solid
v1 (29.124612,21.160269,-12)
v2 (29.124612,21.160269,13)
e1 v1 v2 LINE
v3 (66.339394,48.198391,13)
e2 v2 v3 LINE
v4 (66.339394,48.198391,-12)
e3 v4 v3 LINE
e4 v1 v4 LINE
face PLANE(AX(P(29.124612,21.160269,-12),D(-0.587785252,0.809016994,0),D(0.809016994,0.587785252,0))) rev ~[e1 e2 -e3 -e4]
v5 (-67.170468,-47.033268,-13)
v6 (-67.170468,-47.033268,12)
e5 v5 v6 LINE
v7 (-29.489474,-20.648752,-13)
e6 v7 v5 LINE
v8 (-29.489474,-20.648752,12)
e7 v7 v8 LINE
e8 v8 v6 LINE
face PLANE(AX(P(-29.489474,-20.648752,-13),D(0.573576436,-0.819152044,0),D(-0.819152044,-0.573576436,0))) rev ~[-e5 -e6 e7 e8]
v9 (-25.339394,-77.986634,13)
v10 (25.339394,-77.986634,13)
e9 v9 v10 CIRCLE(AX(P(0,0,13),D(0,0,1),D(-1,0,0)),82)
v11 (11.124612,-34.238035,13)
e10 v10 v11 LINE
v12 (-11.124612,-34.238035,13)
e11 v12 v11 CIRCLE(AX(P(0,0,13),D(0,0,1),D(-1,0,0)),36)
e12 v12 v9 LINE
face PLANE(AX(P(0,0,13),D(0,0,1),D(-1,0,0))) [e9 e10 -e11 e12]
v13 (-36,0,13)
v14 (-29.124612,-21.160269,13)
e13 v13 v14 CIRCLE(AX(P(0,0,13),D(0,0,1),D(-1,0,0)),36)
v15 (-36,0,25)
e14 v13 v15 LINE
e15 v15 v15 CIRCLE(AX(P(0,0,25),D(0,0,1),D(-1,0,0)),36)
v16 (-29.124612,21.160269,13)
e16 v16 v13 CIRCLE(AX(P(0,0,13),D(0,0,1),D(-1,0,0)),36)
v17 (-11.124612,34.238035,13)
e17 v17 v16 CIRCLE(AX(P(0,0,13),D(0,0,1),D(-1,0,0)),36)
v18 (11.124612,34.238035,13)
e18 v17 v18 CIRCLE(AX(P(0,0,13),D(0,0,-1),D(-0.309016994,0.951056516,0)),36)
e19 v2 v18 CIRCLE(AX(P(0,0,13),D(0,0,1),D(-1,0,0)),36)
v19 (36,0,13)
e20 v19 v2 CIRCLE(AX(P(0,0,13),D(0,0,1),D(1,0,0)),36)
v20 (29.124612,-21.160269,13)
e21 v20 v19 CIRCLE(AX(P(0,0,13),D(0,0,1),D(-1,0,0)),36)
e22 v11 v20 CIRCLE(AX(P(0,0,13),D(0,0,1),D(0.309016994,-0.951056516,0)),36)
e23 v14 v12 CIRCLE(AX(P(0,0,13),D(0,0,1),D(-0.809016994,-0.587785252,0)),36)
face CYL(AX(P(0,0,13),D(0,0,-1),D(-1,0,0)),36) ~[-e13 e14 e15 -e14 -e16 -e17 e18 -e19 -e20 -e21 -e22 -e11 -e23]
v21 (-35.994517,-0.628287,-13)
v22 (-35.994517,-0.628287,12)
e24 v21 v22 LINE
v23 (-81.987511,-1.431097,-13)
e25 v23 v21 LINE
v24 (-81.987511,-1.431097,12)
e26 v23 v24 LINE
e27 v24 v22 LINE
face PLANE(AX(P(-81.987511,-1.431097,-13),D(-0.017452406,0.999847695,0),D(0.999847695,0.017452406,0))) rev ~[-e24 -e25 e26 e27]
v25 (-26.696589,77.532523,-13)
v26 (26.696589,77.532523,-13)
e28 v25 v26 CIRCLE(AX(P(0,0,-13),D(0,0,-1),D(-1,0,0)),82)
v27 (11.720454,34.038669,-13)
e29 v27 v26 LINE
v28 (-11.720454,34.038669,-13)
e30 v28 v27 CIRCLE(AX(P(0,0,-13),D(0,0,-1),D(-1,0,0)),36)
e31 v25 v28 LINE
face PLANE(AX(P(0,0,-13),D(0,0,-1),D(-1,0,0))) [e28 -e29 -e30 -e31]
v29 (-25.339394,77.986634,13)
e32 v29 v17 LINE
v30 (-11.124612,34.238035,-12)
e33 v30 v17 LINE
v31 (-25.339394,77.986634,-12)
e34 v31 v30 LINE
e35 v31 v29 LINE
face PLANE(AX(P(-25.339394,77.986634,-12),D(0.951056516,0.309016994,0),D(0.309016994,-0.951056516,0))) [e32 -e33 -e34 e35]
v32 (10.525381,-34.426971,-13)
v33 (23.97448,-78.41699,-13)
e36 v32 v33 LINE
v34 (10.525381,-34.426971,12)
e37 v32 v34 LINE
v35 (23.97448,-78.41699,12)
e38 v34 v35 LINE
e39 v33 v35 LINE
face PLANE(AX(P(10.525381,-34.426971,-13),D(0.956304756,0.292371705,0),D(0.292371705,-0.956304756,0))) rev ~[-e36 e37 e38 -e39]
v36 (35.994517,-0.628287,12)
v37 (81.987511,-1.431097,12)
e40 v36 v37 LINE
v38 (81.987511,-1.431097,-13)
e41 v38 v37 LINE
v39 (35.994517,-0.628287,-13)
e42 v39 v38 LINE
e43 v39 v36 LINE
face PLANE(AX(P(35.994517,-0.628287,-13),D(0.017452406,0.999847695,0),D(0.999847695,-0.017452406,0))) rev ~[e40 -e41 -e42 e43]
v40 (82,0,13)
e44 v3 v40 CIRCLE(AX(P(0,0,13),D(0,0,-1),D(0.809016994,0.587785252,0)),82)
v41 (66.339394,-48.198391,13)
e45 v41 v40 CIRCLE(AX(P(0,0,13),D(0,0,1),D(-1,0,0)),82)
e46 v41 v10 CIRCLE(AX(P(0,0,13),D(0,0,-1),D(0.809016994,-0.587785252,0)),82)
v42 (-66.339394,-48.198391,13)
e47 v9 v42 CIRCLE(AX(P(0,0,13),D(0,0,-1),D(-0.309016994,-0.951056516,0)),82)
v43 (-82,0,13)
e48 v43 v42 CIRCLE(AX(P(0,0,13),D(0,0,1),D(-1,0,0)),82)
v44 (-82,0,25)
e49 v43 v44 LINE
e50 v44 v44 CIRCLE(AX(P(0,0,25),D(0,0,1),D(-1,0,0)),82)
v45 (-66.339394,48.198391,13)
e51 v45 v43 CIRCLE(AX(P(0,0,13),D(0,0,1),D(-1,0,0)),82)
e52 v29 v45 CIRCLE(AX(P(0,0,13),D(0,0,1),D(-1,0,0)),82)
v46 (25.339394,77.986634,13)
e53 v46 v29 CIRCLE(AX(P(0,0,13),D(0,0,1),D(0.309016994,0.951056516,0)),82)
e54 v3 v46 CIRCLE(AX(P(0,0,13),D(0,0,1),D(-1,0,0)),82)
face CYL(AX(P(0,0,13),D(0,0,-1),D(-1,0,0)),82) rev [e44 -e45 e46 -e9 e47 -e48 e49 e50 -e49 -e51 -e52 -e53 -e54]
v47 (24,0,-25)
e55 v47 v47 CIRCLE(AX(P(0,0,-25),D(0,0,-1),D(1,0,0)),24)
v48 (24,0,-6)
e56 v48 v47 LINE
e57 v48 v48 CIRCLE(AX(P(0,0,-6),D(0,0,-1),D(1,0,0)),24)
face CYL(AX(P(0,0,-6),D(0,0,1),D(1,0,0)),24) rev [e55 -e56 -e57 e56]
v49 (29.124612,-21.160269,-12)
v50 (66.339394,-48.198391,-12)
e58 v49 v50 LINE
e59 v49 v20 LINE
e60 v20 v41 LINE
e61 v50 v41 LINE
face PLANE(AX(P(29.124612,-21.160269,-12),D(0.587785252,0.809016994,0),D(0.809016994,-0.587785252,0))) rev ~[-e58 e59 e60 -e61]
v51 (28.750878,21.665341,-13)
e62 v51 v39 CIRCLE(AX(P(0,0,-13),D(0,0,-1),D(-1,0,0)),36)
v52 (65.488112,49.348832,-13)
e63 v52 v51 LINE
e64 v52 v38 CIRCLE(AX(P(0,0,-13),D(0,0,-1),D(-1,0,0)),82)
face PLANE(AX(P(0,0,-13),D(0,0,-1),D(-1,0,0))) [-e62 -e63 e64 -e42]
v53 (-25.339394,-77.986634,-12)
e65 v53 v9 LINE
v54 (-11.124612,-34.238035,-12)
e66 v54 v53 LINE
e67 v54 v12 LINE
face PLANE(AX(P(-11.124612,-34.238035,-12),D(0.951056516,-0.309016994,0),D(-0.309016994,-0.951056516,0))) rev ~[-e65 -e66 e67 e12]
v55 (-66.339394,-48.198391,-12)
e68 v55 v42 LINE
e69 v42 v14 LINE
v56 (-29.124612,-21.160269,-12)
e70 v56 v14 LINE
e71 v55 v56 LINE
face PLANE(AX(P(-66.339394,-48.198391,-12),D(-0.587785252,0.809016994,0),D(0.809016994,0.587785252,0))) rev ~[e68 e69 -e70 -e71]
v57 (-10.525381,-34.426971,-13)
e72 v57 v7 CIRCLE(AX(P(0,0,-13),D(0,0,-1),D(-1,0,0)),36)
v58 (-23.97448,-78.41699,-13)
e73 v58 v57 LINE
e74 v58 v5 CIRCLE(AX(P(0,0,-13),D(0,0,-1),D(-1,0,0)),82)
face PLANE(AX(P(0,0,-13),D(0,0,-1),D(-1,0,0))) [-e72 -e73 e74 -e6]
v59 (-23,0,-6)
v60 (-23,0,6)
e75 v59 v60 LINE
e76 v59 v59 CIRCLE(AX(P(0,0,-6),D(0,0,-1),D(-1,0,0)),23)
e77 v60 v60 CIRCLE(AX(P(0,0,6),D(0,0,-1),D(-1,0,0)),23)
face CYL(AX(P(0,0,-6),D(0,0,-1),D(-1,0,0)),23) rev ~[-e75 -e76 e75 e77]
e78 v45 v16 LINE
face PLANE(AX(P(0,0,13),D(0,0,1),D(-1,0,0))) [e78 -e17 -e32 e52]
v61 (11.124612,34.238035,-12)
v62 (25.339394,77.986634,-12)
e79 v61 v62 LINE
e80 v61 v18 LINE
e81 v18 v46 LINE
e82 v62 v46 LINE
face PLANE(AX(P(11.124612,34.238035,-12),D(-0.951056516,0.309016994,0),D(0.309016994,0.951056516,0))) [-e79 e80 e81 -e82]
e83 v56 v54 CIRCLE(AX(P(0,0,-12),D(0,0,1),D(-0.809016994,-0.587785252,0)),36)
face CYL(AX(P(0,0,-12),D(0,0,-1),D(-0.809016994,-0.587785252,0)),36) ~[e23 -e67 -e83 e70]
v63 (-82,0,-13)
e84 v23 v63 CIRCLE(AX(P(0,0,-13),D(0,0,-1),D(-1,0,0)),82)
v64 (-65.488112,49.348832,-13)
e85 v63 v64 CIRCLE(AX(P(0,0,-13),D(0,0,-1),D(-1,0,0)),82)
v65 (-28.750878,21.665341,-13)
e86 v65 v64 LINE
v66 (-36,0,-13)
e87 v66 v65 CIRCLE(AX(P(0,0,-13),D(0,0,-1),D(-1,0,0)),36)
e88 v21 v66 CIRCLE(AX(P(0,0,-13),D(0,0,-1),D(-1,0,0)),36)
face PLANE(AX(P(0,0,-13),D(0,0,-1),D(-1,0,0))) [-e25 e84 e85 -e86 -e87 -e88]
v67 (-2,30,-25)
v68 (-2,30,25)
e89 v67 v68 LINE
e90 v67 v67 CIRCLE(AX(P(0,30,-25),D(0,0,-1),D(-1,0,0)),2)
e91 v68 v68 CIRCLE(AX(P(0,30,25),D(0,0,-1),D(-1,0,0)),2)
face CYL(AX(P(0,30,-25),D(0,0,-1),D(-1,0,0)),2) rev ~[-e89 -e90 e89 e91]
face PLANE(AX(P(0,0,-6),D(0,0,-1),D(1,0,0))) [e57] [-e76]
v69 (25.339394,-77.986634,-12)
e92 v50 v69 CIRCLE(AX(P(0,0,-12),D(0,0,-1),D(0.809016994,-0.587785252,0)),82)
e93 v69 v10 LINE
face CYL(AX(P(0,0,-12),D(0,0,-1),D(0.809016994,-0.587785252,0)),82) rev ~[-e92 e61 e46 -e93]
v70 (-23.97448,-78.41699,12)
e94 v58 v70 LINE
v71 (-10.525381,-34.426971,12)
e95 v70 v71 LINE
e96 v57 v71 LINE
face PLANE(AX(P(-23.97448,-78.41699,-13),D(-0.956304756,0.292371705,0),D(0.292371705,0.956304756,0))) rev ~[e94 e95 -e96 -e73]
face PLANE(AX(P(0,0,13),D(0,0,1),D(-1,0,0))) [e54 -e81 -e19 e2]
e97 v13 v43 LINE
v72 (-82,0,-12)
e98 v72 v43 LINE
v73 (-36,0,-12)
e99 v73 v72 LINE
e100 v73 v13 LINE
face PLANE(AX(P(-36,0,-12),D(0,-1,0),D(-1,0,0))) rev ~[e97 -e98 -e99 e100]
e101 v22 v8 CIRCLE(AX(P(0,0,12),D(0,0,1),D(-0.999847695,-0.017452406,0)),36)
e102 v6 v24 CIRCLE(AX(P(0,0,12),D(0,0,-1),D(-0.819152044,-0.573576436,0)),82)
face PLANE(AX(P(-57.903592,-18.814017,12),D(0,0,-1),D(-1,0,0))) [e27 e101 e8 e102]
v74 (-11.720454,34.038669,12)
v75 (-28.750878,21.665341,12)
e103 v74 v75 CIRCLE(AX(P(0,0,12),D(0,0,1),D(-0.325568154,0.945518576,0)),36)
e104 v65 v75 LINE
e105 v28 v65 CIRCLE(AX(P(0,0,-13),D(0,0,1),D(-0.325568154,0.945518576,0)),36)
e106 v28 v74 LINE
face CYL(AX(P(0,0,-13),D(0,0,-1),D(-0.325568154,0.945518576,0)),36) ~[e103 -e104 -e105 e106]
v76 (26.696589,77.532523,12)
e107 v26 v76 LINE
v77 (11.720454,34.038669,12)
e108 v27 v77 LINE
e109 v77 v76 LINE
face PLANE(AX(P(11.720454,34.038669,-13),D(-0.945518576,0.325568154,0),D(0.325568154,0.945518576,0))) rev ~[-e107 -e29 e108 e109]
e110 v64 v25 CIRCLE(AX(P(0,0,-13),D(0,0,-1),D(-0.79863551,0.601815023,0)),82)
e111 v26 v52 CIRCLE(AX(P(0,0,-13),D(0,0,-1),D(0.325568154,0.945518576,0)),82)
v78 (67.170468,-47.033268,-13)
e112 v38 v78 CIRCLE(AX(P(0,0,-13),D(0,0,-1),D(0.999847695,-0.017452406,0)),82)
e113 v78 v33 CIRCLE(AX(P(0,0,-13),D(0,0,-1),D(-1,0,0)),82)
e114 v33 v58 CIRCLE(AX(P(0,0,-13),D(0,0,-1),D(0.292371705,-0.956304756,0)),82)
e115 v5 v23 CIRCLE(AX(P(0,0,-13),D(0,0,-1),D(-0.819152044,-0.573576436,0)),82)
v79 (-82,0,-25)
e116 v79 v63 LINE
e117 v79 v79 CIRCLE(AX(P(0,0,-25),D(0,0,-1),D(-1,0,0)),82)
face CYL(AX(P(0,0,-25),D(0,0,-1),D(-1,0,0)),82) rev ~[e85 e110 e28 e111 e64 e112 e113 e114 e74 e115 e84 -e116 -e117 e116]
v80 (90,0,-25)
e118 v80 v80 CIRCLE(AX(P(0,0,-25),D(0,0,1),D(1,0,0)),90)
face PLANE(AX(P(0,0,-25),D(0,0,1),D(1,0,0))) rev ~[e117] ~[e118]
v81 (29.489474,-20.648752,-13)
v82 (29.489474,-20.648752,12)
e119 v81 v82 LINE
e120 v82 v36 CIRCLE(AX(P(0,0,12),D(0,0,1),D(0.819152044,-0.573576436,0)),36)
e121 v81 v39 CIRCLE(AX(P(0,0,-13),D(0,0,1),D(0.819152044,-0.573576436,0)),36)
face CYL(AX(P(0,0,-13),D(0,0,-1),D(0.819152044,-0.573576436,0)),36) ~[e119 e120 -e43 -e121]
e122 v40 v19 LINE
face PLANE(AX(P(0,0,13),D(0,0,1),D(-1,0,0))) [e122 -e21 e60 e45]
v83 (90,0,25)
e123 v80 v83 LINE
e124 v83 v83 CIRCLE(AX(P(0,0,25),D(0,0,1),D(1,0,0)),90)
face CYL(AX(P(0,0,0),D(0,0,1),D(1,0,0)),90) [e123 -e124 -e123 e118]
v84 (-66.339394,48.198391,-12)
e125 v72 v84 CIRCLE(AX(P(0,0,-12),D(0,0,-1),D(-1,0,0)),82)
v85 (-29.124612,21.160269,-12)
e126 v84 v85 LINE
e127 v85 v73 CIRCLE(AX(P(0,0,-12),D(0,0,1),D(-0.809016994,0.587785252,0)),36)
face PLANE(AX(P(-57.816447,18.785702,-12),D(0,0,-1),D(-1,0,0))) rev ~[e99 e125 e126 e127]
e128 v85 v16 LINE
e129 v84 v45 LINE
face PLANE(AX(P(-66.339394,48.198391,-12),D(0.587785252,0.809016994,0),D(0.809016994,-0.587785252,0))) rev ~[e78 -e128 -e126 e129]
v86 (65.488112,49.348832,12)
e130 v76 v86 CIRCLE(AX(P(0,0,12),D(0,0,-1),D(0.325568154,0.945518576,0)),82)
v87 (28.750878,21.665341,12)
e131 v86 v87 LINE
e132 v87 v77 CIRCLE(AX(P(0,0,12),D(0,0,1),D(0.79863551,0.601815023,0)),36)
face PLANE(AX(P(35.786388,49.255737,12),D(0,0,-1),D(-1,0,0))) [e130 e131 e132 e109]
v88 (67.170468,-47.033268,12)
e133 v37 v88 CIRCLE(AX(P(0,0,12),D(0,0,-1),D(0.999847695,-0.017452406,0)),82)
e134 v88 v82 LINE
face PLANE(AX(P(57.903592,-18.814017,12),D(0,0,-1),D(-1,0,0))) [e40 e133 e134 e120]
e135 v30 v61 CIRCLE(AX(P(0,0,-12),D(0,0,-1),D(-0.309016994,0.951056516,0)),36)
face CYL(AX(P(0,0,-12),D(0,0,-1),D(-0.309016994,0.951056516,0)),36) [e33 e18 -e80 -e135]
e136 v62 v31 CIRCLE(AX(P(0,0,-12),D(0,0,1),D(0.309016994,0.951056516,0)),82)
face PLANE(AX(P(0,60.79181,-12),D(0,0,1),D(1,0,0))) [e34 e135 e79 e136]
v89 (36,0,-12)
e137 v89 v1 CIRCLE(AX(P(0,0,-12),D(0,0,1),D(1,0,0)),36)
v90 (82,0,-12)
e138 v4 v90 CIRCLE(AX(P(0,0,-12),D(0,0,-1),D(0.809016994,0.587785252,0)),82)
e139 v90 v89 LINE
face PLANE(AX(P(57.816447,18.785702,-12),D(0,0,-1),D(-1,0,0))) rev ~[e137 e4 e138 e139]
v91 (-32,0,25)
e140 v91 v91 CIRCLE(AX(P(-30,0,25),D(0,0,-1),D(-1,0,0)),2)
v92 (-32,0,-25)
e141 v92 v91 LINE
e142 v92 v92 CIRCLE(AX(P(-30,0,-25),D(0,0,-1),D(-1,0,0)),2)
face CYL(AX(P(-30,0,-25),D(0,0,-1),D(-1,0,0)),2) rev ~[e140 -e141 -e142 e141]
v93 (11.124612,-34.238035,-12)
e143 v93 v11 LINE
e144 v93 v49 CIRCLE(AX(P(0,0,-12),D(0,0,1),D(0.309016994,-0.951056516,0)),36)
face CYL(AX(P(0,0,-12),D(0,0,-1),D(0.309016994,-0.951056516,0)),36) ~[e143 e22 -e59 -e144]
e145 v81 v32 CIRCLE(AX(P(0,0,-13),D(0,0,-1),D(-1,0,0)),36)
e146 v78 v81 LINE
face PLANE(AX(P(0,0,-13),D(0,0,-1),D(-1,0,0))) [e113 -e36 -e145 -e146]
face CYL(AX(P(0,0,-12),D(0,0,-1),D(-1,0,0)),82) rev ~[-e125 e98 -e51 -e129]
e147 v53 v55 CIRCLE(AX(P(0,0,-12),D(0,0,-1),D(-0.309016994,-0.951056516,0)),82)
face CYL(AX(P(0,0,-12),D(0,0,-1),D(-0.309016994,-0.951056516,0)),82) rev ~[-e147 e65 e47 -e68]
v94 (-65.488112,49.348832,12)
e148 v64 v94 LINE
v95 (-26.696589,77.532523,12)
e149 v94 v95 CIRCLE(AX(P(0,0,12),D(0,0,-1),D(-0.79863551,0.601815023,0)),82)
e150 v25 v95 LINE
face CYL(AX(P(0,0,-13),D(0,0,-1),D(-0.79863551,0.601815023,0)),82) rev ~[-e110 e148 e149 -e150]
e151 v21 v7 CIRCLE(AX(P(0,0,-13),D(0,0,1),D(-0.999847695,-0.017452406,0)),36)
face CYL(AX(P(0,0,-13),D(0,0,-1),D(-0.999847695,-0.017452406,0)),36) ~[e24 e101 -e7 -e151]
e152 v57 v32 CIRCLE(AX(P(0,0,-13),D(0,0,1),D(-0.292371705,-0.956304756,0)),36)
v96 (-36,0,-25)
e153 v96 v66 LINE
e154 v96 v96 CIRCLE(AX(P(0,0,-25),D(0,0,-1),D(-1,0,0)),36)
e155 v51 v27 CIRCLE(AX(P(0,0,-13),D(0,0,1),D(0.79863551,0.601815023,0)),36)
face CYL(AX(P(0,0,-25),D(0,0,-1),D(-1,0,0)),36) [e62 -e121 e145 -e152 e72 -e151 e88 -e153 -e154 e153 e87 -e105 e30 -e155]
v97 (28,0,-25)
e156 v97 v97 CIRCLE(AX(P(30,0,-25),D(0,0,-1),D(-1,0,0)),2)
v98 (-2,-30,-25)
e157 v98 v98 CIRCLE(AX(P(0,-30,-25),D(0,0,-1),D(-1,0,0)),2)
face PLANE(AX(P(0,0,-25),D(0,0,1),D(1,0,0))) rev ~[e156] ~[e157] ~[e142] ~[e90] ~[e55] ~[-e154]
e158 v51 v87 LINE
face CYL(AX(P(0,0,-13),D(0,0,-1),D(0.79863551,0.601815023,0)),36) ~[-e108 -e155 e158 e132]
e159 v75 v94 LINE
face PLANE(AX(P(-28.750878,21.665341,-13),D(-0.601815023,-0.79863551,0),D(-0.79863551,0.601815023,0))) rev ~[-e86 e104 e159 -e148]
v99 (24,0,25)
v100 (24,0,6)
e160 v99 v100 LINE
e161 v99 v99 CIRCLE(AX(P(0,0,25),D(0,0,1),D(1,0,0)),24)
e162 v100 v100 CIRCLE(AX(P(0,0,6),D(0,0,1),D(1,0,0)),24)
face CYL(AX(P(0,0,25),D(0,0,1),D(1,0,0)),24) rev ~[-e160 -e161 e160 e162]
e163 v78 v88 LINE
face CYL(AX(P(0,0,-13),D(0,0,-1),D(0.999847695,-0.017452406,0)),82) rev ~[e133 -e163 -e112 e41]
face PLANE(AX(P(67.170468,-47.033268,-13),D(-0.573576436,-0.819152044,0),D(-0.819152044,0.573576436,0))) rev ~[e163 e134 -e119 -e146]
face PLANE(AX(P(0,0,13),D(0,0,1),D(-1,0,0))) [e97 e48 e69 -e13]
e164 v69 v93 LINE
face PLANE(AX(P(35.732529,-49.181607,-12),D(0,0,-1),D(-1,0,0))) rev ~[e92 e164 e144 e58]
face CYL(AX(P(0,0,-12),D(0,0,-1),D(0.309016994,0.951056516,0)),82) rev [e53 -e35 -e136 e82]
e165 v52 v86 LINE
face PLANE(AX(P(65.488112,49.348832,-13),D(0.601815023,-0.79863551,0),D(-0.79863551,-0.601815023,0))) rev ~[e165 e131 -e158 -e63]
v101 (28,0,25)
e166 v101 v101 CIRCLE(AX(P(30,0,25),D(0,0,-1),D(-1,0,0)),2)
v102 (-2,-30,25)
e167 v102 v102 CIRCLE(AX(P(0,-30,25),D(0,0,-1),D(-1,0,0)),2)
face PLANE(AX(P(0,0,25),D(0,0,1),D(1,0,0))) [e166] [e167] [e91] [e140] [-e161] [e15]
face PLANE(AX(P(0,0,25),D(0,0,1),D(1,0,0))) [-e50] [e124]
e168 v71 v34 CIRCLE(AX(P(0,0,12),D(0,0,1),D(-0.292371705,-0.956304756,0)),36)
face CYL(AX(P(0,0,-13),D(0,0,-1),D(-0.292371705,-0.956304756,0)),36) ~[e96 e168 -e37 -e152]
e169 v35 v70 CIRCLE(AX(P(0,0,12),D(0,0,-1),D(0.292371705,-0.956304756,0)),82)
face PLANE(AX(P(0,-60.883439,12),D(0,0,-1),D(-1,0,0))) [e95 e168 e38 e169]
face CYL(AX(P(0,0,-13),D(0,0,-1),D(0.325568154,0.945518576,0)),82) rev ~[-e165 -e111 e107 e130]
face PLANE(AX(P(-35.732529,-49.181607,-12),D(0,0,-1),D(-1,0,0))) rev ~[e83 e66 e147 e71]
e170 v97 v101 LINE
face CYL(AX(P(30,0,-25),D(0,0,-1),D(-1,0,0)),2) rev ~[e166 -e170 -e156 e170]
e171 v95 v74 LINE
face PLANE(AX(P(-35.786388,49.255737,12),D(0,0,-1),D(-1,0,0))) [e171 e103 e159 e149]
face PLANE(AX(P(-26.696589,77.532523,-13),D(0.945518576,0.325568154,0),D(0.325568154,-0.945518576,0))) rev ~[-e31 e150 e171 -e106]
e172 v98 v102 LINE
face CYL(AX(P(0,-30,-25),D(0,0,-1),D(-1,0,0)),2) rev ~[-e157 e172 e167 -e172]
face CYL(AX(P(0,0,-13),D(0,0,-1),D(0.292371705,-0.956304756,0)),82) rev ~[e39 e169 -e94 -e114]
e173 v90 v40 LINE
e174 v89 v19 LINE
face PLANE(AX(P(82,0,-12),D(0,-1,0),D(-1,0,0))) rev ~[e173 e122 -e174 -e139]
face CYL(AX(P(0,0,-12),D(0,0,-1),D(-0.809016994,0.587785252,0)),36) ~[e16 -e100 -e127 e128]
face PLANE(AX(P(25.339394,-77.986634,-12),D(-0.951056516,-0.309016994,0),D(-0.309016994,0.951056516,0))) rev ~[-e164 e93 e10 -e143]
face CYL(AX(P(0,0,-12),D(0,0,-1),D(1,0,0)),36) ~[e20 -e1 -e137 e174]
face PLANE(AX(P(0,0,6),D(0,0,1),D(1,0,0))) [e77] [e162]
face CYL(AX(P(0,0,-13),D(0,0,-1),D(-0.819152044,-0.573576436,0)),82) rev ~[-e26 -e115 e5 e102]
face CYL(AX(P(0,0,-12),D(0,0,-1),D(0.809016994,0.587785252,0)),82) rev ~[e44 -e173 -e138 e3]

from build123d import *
from build123d.topology import SkipClean

# Parameters (mm, degrees)
SKETCH1_R           = 90
BOSS_EXTRUDE1_DEPTH = 25
SKETCH3_R           = 24
CUT_EXTRUDE2_DEPTH  = 19
CUT_EXTRUDE3_START  = -19
SKETCH4_R           = 24
CUT_EXTRUDE3_DEPTH  = 19
SKETCH5_R           = 23
CUT_EXTRUDE4_DEPTH  = 12
SKETCH6_R           = 82
SKETCH6_R_2         = 36
CUT_EXTRUDE7_DEPTH  = 12
CUT_EXTRUDE8_START  = -12
SKETCH8_R           = 82
SKETCH8_R_2         = 36
CUT_EXTRUDE8_DEPTH  = 12
CUT_EXTRUDE10_START = -25
CUT_EXTRUDE10_DEPTH = 25
CUT_EXTRUDE11_DEPTH = 25
SKETCH13_R          = 2
CUT_EXTRUDE12_DEPTH = 137.747943312


with BuildPart() as part:
    # Sketch1 → Boss-Extrude1 (new, symmetric)
    with BuildSketch(Plane.XY):
        Circle(SKETCH1_R)
    extrude(amount=BOSS_EXTRUDE1_DEPTH, both=True)

    # Sketch3 → Cut-Extrude2 (cut)
    with BuildSketch(Plane.XY.offset(25)):
        Circle(SKETCH3_R)
    extrude(amount=-CUT_EXTRUDE2_DEPTH, mode=Mode.SUBTRACT)

    # Sketch4 → Cut-Extrude3 (cut)
    with BuildSketch(Plane(origin=(0, 0, -25), x_dir=(-1, 0, 0), z_dir=(0, 0, -1)).offset(CUT_EXTRUDE3_START)):
        with Locations(Location((0, 0, 0), (0, 0, 180))):
            Circle(SKETCH4_R)
    extrude(amount=CUT_EXTRUDE3_DEPTH, mode=Mode.SUBTRACT)

    # Sketch5 → Cut-Extrude4 (cut)
    with BuildSketch(Plane(origin=(0, 0, -6), x_dir=(-1, 0, 0), z_dir=(0, 0, -1))):
        Circle(SKETCH5_R)
    extrude(amount=-CUT_EXTRUDE4_DEPTH, mode=Mode.SUBTRACT)

    # Sketch6 → Cut-Extrude7 (cut)
    with BuildSketch(Plane(origin=(0, 0, -25), x_dir=(-1, 0, 0), z_dir=(0, 0, -1))):
        Circle(SKETCH6_R)
        Circle(SKETCH6_R_2, mode=Mode.SUBTRACT)
    extrude(amount=-CUT_EXTRUDE7_DEPTH, mode=Mode.SUBTRACT)

    # Sketch8 → Cut-Extrude8 (cut)
    with BuildSketch(Plane.XY.offset(25).offset(CUT_EXTRUDE8_START)):
        with Locations(Location((0, 0, 0), (0, 0, 180))):
            Circle(SKETCH8_R)
        with Locations(Location((0, 0, 0), (0, 0, 180))):
            Circle(SKETCH8_R_2, mode=Mode.SUBTRACT)
    extrude(amount=CUT_EXTRUDE8_DEPTH, mode=Mode.SUBTRACT)

    # Sketch11 → Cut-Extrude10 (cut)
    with SkipClean():  # the faces are left unmerged after this step: merging them gives an invalid solid
        with BuildSketch(Plane.XY.offset(13).offset(CUT_EXTRUDE10_START)):
            with BuildLine():
                Line((11.124611797, 34.238034587), (25.339393539, 77.986634336))
                ThreePointArc((25.339393539, 77.986634336), (0, 82), (-25.339393539, 77.986634336))
                Line((-25.339393539, 77.986634336), (-11.124611798, 34.238034587))
                ThreePointArc((-11.124611798, 34.238034587), (0, 36), (11.124611797, 34.238034587))
            make_face()
            with BuildLine():
                Line((29.124611798, 21.160269083), (66.339393539, 48.198390688))
                ThreePointArc((66.339393539, 48.198390688), (77.986634336, 25.339393539), (82, 0))
                Line((82, 0), (36, 0))
                ThreePointArc((36, 0), (34.238034587, 11.124611797), (29.124611798, 21.160269083))
            make_face()
            with BuildLine():
                Line((29.124611798, -21.160269083), (66.339393539, -48.198390688))
                ThreePointArc((66.339393539, -48.198390688), (48.198390688, -66.339393539), (25.339393539, -77.986634336))
                Line((25.339393539, -77.986634336), (11.124611797, -34.238034587))
                ThreePointArc((11.124611797, -34.238034587), (21.160269083, -29.124611798), (29.124611798, -21.160269083))
            make_face()
            with BuildLine():
                Line((-11.124611797, -34.238034587), (-25.339393539, -77.986634336))
                ThreePointArc((-25.339393539, -77.986634336), (-48.198390688, -66.339393539), (-66.339393539, -48.198390688))
                Line((-66.339393539, -48.198390688), (-29.124611798, -21.160269083))
                ThreePointArc((-29.124611798, -21.160269083), (-21.160269083, -29.124611798), (-11.124611797, -34.238034587))
            make_face()
            with BuildLine():
                Line((-36, 0), (-82, 0))
                ThreePointArc((-82, 0), (-77.986634336, 25.339393539), (-66.339393539, 48.198390688))
                Line((-66.339393539, 48.198390688), (-29.124611798, 21.160269083))
                ThreePointArc((-29.124611798, 21.160269083), (-34.238034587, 11.124611797), (-36, 0))
            make_face()
        extrude(amount=CUT_EXTRUDE10_DEPTH, mode=Mode.SUBTRACT)

    # Sketch12 → Cut-Extrude11 (cut)
    with SkipClean():  # the faces are left unmerged after this step: merging them gives an invalid solid
        with BuildSketch(Plane(origin=(0, 0, -13), x_dir=(-1, 0, 0), z_dir=(0, 0, -1))):
            with BuildLine():
                ThreePointArc((-28.750878362, 21.665340833), (-21.160269083, 29.124611797), (-11.72045356, 34.038668722))
                Line((-11.72045356, 34.038668722), (-26.696588665, 77.532523199))
                ThreePointArc((-26.696588665, 77.532523199), (-48.198390688, 66.339393539), (-65.488111824, 49.348831898))
                Line((-65.488111824, 49.348831898), (-28.750878362, 21.665340833))
            make_face()
            with BuildLine():
                Line((26.696588665, 77.532523199), (11.72045356, 34.038668722))
                ThreePointArc((11.72045356, 34.038668722), (21.160269083, 29.124611797), (28.750878362, 21.665340833))
                Line((28.750878362, 21.665340833), (65.488111824, 49.348831898))
                ThreePointArc((65.488111824, 49.348831898), (48.198390688, 66.339393539), (26.696588665, 77.532523199))
            make_face()
            with BuildLine():
                Line((81.987511003, -1.431097328), (35.994517026, -0.628286632))
                ThreePointArc((35.994517026, -0.628286632), (34.238034587, -11.124611797), (29.489473594, -20.648751709))
                Line((29.489473594, -20.648751709), (67.170467632, -47.033267781))
                ThreePointArc((67.170467632, -47.033267781), (77.986634336, -25.339393539), (81.987511003, -1.431097328))
            make_face()
            with BuildLine():
                ThreePointArc((-29.489473594, -20.648751709), (-34.238034587, -11.124611797), (-35.994517026, -0.628286632))
                Line((-35.994517026, -0.628286632), (-81.987511003, -1.431097328))
                ThreePointArc((-81.987511003, -1.431097328), (-77.986634336, -25.339393539), (-67.170467632, -47.033267781))
                Line((-67.170467632, -47.033267781), (-29.489473594, -20.648751709))
            make_face()
            with BuildLine():
                Line((23.974479787, -78.416989989), (10.52538137, -34.426971215))
                ThreePointArc((10.52538137, -34.426971215), (0, -36), (-10.52538137, -34.426971215))
                Line((-10.52538137, -34.426971215), (-23.974479787, -78.416989989))
                ThreePointArc((-23.974479787, -78.416989989), (0, -82), (23.974479787, -78.416989989))
            make_face()
        extrude(amount=-CUT_EXTRUDE11_DEPTH, mode=Mode.SUBTRACT)

    # Sketch13 → Cut-Extrude12 (cut, through all)
    with SkipClean():  # the faces are left unmerged after this step: merging them gives an invalid solid
        with BuildSketch(Plane(origin=(0, 0, -25), x_dir=(-1, 0, 0), z_dir=(0, 0, -1))):
            with Locations((0, 30)):
                Circle(SKETCH13_R)
            with Locations((30, 0)):
                Circle(SKETCH13_R)
            with Locations((0, -30)):
                Circle(SKETCH13_R)
            with Locations((-30, 0)):
                Circle(SKETCH13_R)
        extrude(amount=-CUT_EXTRUDE12_DEPTH, mode=Mode.SUBTRACT)


solid = part.part
